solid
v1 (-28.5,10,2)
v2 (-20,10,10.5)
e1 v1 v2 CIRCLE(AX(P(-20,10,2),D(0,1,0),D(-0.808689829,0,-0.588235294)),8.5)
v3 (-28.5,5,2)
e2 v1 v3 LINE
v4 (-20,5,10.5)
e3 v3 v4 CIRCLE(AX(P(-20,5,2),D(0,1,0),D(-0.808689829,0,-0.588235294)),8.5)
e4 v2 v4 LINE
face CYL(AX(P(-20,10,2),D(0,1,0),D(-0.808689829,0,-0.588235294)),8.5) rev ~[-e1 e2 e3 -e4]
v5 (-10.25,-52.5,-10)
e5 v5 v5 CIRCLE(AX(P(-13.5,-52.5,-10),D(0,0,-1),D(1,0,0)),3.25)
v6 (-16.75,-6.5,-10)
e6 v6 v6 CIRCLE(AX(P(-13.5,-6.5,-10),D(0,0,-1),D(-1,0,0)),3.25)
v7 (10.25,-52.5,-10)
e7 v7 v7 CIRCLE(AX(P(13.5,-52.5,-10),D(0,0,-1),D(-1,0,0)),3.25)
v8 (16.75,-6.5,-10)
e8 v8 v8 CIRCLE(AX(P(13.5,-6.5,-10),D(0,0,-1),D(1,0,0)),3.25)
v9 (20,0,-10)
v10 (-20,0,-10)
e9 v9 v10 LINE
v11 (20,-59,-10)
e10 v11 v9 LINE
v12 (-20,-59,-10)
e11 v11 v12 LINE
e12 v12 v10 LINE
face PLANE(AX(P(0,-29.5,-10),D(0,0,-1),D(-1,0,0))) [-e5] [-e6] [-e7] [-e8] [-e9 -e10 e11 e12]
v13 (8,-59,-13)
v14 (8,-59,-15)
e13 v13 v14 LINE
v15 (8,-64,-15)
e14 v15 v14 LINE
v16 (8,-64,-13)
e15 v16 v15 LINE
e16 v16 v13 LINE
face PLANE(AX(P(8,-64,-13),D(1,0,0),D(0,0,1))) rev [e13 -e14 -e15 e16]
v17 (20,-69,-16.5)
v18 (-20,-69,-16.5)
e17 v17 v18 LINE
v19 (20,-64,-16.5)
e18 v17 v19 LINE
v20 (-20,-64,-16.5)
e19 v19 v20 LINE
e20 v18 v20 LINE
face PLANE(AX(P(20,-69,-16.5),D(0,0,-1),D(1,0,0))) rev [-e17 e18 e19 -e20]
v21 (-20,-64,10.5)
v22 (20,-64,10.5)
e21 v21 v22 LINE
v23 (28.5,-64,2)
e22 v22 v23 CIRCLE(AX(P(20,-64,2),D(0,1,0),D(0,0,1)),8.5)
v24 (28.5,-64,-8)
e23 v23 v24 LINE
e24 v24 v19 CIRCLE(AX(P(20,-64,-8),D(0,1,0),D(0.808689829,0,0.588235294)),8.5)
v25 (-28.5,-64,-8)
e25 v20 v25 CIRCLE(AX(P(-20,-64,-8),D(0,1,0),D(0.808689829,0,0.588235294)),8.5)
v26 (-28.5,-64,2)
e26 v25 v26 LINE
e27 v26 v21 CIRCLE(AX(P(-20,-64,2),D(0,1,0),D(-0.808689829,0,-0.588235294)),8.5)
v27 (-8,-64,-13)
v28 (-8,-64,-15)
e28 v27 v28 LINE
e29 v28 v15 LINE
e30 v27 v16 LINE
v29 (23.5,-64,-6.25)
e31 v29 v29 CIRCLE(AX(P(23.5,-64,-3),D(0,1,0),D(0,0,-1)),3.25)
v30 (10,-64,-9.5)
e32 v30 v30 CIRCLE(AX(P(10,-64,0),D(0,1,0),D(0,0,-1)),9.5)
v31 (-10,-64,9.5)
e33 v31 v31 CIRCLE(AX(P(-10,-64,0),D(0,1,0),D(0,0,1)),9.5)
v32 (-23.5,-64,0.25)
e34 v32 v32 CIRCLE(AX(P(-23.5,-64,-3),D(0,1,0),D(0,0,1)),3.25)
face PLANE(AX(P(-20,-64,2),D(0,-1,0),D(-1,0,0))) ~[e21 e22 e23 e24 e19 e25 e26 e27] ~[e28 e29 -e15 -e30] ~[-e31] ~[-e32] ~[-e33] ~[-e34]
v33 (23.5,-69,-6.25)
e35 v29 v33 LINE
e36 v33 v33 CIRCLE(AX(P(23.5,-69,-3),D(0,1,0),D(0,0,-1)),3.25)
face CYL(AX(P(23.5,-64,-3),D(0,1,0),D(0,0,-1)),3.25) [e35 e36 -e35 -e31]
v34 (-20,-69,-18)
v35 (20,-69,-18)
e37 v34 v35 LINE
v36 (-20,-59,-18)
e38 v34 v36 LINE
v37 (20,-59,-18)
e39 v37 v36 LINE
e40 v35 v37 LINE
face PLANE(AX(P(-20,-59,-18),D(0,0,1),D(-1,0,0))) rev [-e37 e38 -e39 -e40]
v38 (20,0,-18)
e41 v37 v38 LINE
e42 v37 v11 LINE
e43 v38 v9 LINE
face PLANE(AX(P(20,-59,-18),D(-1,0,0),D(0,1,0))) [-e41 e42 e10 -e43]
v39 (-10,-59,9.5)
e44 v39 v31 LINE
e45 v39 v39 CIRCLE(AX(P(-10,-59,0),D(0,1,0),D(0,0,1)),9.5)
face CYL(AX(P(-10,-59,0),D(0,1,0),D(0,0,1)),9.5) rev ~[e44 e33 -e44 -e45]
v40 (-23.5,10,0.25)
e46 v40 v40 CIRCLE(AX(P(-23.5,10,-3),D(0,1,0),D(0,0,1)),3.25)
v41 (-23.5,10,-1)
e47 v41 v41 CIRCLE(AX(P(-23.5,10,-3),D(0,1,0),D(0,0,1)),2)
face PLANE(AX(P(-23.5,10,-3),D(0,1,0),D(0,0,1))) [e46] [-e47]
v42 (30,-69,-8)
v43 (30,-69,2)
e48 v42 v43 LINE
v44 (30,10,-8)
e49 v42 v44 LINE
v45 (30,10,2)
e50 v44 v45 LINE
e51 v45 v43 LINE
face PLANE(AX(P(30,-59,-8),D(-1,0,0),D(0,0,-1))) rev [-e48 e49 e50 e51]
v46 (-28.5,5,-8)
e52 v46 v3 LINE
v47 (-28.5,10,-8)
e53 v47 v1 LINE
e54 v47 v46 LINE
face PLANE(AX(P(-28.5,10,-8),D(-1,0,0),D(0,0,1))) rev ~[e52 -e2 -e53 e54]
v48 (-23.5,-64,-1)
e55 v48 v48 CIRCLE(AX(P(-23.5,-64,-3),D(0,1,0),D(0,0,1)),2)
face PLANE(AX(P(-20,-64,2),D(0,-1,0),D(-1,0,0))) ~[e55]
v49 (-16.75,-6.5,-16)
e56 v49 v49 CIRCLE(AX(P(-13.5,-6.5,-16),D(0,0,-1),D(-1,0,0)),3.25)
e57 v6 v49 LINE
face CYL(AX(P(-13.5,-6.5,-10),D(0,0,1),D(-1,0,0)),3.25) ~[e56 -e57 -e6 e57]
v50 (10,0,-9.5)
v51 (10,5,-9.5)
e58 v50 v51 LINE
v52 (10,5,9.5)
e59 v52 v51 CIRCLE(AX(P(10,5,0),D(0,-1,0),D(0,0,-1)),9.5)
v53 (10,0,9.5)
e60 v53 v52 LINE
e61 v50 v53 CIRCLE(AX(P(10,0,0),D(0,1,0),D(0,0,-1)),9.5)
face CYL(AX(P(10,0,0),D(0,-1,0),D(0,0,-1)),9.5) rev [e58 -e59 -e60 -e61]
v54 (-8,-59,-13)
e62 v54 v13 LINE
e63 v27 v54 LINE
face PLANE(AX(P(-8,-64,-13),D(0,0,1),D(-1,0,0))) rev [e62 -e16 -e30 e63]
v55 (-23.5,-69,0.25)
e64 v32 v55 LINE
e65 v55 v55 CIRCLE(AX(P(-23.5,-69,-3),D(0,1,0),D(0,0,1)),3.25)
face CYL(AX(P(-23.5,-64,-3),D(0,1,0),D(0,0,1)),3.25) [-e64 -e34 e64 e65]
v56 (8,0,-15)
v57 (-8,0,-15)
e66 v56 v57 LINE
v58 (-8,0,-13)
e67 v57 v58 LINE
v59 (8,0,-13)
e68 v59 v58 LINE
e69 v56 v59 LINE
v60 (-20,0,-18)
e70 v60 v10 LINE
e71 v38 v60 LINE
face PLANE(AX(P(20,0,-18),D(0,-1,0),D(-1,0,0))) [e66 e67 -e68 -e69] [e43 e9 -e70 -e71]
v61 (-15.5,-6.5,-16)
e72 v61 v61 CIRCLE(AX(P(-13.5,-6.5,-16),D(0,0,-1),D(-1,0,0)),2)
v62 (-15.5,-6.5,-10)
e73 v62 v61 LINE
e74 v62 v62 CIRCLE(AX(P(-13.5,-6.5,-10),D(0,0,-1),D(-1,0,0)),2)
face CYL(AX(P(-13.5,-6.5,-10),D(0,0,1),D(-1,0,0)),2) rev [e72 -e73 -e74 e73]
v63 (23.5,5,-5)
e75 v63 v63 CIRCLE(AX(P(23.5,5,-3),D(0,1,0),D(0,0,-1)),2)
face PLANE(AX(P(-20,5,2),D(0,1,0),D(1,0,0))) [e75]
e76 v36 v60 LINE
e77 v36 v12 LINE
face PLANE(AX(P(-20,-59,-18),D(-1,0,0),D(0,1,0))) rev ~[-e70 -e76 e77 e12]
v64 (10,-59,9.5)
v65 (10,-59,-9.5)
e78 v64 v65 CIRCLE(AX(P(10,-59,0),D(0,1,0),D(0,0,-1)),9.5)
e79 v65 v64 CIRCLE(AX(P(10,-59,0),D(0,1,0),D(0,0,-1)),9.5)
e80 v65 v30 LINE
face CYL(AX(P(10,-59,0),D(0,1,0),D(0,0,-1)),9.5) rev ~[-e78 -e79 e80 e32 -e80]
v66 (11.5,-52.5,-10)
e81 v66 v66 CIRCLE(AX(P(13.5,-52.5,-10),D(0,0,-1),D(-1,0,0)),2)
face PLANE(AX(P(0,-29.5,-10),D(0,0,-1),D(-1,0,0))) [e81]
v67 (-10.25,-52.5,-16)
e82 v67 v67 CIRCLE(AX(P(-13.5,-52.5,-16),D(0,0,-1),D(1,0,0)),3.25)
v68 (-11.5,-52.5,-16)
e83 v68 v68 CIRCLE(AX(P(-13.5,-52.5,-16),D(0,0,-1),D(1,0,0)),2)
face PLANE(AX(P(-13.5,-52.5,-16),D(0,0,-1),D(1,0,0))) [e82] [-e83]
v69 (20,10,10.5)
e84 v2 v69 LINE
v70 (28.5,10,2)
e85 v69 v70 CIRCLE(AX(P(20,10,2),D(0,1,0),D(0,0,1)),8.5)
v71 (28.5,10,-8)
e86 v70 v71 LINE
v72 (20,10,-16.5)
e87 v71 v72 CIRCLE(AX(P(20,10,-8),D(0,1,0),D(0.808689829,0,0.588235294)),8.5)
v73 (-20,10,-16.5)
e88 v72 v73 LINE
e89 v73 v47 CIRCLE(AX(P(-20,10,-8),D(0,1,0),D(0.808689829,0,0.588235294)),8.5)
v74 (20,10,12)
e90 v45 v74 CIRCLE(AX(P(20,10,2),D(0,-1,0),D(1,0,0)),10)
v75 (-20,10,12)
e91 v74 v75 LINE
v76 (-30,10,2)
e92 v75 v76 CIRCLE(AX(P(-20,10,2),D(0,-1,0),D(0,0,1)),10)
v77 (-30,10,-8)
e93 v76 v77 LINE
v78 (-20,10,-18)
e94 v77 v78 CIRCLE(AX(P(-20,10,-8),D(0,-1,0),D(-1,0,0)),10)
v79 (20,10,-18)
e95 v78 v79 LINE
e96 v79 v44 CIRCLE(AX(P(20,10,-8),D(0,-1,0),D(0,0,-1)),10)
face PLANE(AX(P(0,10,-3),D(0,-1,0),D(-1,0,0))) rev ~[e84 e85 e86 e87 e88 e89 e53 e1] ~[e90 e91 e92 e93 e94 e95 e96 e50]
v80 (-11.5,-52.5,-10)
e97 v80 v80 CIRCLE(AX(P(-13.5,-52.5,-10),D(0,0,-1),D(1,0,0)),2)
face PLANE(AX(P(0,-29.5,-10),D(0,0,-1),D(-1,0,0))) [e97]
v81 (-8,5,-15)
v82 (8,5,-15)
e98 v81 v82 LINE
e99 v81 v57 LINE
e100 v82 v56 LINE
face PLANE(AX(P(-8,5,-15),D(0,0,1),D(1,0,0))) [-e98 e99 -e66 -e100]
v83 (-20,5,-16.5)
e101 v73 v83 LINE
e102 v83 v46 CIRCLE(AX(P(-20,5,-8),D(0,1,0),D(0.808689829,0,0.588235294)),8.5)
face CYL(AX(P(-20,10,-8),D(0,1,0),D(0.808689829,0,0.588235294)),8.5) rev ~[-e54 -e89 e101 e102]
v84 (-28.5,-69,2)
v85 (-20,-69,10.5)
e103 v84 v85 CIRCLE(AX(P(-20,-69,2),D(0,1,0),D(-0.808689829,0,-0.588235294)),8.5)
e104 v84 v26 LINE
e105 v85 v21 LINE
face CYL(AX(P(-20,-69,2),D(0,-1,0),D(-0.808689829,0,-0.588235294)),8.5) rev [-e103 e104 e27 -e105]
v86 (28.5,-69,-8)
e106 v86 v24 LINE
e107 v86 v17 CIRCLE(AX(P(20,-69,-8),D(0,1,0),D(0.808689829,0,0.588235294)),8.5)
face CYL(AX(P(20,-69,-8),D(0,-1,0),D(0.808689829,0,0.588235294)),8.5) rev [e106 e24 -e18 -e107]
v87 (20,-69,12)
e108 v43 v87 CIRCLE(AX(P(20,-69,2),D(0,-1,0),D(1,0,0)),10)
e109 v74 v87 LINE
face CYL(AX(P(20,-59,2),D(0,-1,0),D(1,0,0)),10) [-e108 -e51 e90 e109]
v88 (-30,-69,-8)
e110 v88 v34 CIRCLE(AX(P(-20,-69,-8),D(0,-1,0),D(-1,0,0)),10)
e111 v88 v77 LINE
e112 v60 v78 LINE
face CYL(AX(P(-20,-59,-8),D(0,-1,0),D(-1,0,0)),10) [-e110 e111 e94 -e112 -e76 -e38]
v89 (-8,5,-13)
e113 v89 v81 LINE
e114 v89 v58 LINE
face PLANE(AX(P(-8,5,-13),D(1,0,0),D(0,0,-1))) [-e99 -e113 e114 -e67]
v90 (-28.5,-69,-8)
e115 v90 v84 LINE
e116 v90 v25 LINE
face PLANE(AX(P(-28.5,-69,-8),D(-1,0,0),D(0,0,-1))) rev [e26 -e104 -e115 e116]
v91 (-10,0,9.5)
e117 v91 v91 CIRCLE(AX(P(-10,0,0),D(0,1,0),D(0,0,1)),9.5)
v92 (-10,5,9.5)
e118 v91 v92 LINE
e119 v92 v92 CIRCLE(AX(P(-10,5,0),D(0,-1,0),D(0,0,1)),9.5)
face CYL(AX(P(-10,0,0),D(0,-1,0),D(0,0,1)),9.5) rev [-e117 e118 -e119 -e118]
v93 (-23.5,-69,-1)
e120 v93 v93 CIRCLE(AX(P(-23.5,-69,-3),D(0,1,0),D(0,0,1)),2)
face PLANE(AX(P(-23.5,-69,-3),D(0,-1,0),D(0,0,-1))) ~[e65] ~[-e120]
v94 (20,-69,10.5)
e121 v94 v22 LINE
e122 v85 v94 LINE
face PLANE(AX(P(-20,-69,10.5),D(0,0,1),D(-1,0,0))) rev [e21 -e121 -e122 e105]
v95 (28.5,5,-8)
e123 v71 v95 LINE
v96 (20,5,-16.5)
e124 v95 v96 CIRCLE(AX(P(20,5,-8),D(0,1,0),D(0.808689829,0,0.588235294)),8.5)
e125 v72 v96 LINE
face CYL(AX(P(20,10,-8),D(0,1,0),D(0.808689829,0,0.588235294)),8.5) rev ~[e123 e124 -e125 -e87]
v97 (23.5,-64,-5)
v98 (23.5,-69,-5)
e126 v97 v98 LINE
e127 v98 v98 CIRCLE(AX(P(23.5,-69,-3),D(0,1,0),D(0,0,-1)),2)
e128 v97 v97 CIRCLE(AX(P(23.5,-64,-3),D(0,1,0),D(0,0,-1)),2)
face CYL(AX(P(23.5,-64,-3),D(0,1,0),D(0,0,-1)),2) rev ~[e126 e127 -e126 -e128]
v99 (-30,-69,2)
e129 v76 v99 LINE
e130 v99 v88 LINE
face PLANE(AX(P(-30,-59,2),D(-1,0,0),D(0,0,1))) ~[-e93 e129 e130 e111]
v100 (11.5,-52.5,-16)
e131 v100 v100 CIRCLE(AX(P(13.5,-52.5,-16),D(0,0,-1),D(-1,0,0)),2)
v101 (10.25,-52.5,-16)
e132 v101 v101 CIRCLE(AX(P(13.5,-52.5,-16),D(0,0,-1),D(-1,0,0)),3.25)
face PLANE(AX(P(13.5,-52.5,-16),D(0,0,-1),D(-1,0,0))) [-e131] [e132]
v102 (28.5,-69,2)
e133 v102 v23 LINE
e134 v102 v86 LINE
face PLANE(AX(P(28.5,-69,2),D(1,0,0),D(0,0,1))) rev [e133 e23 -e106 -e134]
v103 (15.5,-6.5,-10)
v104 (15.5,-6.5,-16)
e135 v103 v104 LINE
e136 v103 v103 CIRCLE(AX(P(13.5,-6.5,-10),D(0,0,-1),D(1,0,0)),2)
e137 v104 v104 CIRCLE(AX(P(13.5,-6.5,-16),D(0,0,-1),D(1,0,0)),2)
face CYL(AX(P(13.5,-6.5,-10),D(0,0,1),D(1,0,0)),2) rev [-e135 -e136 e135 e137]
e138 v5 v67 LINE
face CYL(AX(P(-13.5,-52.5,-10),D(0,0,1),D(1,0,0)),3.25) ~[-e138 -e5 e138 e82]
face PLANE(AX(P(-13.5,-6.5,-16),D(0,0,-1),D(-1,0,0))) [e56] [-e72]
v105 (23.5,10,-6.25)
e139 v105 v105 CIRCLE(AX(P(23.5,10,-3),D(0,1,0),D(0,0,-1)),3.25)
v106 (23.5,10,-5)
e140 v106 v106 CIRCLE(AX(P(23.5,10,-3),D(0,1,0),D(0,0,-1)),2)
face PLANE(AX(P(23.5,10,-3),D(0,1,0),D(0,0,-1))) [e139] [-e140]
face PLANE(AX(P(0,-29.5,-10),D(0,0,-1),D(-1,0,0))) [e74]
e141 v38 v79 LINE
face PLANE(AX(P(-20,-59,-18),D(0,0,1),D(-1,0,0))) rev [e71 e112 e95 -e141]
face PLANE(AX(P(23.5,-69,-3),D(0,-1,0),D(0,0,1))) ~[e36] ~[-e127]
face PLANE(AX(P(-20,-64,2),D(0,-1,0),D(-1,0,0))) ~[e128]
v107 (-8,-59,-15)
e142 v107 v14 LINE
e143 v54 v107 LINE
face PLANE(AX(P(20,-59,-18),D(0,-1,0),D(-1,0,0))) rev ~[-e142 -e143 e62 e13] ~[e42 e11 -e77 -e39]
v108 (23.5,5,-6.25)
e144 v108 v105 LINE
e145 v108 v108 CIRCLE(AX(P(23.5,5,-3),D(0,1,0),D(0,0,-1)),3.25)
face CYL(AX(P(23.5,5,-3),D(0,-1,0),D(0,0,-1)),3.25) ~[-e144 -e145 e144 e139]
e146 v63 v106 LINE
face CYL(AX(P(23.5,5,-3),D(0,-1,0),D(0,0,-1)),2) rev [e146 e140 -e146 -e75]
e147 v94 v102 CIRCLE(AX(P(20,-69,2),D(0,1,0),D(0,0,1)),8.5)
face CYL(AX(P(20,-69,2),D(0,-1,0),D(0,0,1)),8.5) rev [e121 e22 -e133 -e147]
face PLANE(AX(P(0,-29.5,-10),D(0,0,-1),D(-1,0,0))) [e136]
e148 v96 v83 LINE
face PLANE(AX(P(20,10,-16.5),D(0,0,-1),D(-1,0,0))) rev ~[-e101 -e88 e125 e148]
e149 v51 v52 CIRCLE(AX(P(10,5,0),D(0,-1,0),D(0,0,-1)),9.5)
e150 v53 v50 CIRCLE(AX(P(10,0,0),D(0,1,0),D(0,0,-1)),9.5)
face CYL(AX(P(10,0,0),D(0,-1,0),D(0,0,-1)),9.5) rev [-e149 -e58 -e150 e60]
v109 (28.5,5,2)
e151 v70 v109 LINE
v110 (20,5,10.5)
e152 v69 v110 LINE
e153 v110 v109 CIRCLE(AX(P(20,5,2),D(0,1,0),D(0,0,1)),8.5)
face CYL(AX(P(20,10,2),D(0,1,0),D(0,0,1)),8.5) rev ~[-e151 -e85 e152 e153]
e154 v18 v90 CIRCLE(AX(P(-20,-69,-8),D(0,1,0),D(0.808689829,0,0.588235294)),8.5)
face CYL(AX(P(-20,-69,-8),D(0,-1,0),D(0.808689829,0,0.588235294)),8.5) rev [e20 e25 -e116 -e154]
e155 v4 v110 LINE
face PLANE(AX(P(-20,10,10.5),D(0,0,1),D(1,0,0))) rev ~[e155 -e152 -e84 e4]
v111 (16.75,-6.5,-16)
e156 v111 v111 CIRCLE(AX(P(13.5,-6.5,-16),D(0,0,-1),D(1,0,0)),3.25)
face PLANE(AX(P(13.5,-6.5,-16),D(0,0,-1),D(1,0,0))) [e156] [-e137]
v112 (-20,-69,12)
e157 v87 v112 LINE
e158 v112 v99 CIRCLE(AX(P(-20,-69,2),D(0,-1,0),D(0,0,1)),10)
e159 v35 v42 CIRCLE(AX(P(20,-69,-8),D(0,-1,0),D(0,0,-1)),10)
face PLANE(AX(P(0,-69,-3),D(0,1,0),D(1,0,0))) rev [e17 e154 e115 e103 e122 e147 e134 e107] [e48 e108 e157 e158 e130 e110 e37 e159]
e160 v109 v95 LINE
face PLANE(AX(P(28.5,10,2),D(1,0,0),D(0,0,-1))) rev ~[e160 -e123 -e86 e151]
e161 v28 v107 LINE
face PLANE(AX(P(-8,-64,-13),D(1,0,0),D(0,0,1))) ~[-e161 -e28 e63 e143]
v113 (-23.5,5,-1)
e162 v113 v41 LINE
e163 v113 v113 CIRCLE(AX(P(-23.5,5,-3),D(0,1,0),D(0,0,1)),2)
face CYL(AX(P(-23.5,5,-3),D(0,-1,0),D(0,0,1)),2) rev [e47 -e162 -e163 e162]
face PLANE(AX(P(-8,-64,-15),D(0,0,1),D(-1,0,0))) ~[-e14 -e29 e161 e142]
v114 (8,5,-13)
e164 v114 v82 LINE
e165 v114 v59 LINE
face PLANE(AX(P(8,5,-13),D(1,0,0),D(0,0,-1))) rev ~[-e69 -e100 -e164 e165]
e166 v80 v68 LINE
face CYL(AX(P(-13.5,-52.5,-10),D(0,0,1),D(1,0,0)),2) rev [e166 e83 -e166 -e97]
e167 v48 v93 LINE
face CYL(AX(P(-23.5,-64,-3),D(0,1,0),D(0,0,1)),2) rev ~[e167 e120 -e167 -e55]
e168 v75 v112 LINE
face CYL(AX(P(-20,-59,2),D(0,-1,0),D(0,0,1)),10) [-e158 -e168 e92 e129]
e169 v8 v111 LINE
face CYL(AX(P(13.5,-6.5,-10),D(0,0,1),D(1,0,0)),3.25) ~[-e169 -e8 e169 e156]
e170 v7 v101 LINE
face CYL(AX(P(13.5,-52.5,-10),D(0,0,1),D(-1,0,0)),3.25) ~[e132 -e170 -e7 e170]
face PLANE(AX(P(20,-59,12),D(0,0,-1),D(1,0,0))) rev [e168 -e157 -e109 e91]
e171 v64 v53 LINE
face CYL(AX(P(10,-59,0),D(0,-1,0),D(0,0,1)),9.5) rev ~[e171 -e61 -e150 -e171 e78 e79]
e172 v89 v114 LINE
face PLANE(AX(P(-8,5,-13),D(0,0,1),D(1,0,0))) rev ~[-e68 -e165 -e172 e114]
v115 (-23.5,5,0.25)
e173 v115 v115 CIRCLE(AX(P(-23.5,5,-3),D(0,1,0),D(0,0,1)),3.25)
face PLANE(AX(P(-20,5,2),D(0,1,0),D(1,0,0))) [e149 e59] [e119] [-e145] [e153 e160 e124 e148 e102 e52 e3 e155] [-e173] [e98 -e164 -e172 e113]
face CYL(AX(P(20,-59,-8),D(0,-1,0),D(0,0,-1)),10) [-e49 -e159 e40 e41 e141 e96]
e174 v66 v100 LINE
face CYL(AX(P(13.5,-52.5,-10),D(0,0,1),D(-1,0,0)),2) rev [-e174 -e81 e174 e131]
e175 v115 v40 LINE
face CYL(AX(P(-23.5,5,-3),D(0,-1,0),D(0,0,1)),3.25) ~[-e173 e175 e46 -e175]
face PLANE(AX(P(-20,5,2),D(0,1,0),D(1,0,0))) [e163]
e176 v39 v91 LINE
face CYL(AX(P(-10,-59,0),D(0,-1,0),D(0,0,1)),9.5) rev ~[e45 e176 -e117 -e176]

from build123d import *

# Parameters (mm, degrees)
SKETCH_1_R          = 9.5
EXTRUDE_1_DEPTH     = 10
SKETCH_2_R          = 8.5
SKETCH_2_R_2        = 9.5
CUT_EXTRUDE_1_DEPTH = 5
SKETCH_3_R          = 3.25
SKETCH_3_R_2        = 2
EXTRUDE_2_DEPTH     = 5
SKETCH_4_W          = 16
SKETCH_4_H          = 2
CUT_EXTRUDE_2_DEPTH = 6
EXTRUDE_3_DEPTH     = 29.5
SKETCH_8_W          = 40
SKETCH_8_H          = 59
CUT_EXTRUDE_4_DEPTH = 8
SKETCH_9_R          = 9.5
CUT_EXTRUDE_5_DEPTH = 70
SKETCH_10_R         = 3.25
SKETCH_10_R_2       = 2
EXTRUDE_4_DEPTH     = 6


with BuildPart() as part:
    # Эскиз1 → Бобышка-Вытянуть1 (new body)
    with BuildSketch(Plane(origin=(0, 0, 0), x_dir=(1, 0, 0), z_dir=(0, 1, 0))):
        with BuildLine():
            Line((-20, 18), (20, 18))
            ThreePointArc((20, 18), (27.071067812, 15.071067812), (30, 8))
            Line((30, 8), (30, -2))
            ThreePointArc((30, -2), (27.071067812, -9.071067812), (20, -12))
            Line((20, -12), (-20, -12))
            ThreePointArc((-20, -12), (-27.071067812, -9.071067812), (-30, -2))
            Line((-30, -2), (-30, 8))
            ThreePointArc((-30, 8), (-27.071067812, 15.071067812), (-20, 18))
        make_face()
        with Locations(Location((-10, 0, 0), (0, 0, 270))):
            Circle(SKETCH_1_R, mode=Mode.SUBTRACT)
        with Locations(Location((10, 0, 0), (0, 0, 90))):
            Circle(SKETCH_1_R, mode=Mode.SUBTRACT)
    extrude_1 = extrude(amount=EXTRUDE_1_DEPTH)

    # Эскиз2 → Вырез-Вытянуть1 (cut)
    with BuildSketch(Plane(origin=(0, 10, 0), x_dir=(1, 0, 0), z_dir=(0, 1, 0))):
        with Locations((-20, -2)):
            Circle(SKETCH_2_R)
        with Locations((-20, 8)):
            Circle(SKETCH_2_R)
        with Locations(Location((-10, 0, 0), (0, 0, 270))):
            Circle(SKETCH_2_R_2)
        with BuildLine():
            Line((20, 16.5), (-20, 16.5))
            ThreePointArc((-20, 16.5), (-14.492370575, 14.474258113), (-11.609926002, 9.362592497))
            ThreePointArc((-11.609926002, 9.362592497), (-3.878084328, 7.26444413), (-0.5, 0))
            ThreePointArc((-0.5, 0), (-5.086783087, -8.13082404), (-14.417957802, -8.410210988))
            ThreePointArc((-14.417957802, -8.410210988), (-17.01979811, -9.960426917), (-20, -10.5))
            Line((-20, -10.5), (20, -10.5))
            ThreePointArc((20, -10.5), (17.01979811, -9.960426917), (14.417957802, -8.410210988))
            ThreePointArc((14.417957802, -8.410210988), (0.616398255, -1.48257151), (11.609926002, 9.362592497))
            ThreePointArc((11.609926002, 9.362592497), (14.492370575, 14.474258113), (20, 16.5))
        make_face()
        with Locations((-20, -2)):
            Circle(SKETCH_2_R)
        with Locations((-20, 8)):
            Circle(SKETCH_2_R)
        with Locations(Location((-10, 0, 0), (0, 0, 270))):
            Circle(SKETCH_2_R_2)
        with Locations((-20, -2)):
            Circle(SKETCH_2_R)
        with Locations((-20, 8)):
            Circle(SKETCH_2_R)
        with Locations(Location((-10, 0, 0), (0, 0, 270))):
            Circle(SKETCH_2_R_2)
        with BuildLine():
            ThreePointArc((-26.873863542, 3), (-28.08324935, 5.371106707), (-28.5, 8))
            Line((-28.5, 8), (-28.5, -2))
            ThreePointArc((-28.5, -2), (-28.08324935, 0.628893293), (-26.873863542, 3))
        make_face()
        with Locations((20, -2)):
            Circle(SKETCH_2_R)
        with Locations((20, 8)):
            Circle(SKETCH_2_R)
        with Locations(Location((10, 0, 0), (0, 0, 90))):
            Circle(SKETCH_2_R_2)
        with Locations((20, -2)):
            Circle(SKETCH_2_R)
        with Locations((20, 8)):
            Circle(SKETCH_2_R)
        with Locations(Location((10, 0, 0), (0, 0, 90))):
            Circle(SKETCH_2_R_2)
        with Locations((20, -2)):
            Circle(SKETCH_2_R)
        with Locations((20, 8)):
            Circle(SKETCH_2_R)
        with Locations(Location((10, 0, 0), (0, 0, 90))):
            Circle(SKETCH_2_R_2)
        with BuildLine():
            Line((28.5, -2), (28.5, 8))
            ThreePointArc((28.5, 8), (28.08324935, 5.371106707), (26.873863542, 3))
            ThreePointArc((26.873863542, 3), (28.08324935, 0.628893293), (28.5, -2))
        make_face()
    cut_extrude_1 = extrude(amount=-CUT_EXTRUDE_1_DEPTH, mode=Mode.SUBTRACT)

    # Эскиз3 → Бобышка-Вытянуть2 (add)
    with BuildSketch(Plane(origin=(0, 5, 0), x_dir=(1, 0, 0), z_dir=(0, 1, 0))):
        with Locations(Location((-23.5, 3, 0), (0, 0, 270))):
            Circle(SKETCH_3_R)
        with Locations(Location((-23.5, 3, 0), (0, 0, 270))):
            Circle(SKETCH_3_R_2, mode=Mode.SUBTRACT)
        with Locations(Location((23.5, 3, 0), (0, 0, 90))):
            Circle(SKETCH_3_R)
        with Locations(Location((23.5, 3, 0), (0, 0, 90))):
            Circle(SKETCH_3_R_2, mode=Mode.SUBTRACT)
    extrude_2 = extrude(amount=EXTRUDE_2_DEPTH)

    # Эскиз4 → Вырез-Вытянуть2 (cut, through all)
    with BuildSketch(Plane(origin=(0, 5, 0), x_dir=(1, 0, 0), z_dir=(0, 1, 0))):
        with Locations((0, 14)):
            Rectangle(SKETCH_4_W, SKETCH_4_H)
    cut_extrude_2 = extrude(amount=-CUT_EXTRUDE_2_DEPTH, mode=Mode.SUBTRACT)

    # Эскиз5 → Бобышка-Вытянуть3 (add)
    with BuildSketch(Plane.XZ):
        with BuildLine():
            Line((30, -8), (30, 2))
            ThreePointArc((30, 2), (27.071067812, 9.071067812), (20, 12))
            Line((20, 12), (-20, 12))
            ThreePointArc((-20, 12), (-27.071067812, 9.071067812), (-30, 2))
            Line((-30, 2), (-30, -8))
            ThreePointArc((-30, -8), (-27.071067812, -15.071067812), (-20, -18))
            Line((-20, -18), (20, -18))
            ThreePointArc((20, -18), (27.071067812, -15.071067812), (30, -8))
        make_face()
    extrude_3 = extrude(amount=EXTRUDE_3_DEPTH)

    # Зеркальное отражение5: Бобышка-Вытянуть1, Вырез-Вытянуть1, Бобышка-Вытянуть2, Вырез-Вытянуть2, Бобышка-Вытянуть3 across plane
    add(extrude_1.mirror(Plane(origin=(0, -29.5, 0), x_dir=(0, 0, 1), z_dir=(0, -1, 0))))
    add(cut_extrude_1.mirror(Plane(origin=(0, -29.5, 0), x_dir=(0, 0, 1), z_dir=(0, -1, 0))), mode=Mode.SUBTRACT)
    add(extrude_2.mirror(Plane(origin=(0, -29.5, 0), x_dir=(0, 0, 1), z_dir=(0, -1, 0))))
    add(cut_extrude_2.mirror(Plane(origin=(0, -29.5, 0), x_dir=(0, 0, 1), z_dir=(0, -1, 0))), mode=Mode.SUBTRACT)
    add(extrude_3.mirror(Plane(origin=(0, -29.5, 0), x_dir=(0, 0, 1), z_dir=(0, -1, 0))))

    # Эскиз8 → Вырез-Вытянуть4 (cut)
    with BuildSketch(Plane(origin=(0, 0, -18), x_dir=(-1, 0, 0), z_dir=(0, 0, -1))):
        with Locations((0, -29.5)):
            Rectangle(SKETCH_8_W, SKETCH_8_H)
    extrude(amount=-CUT_EXTRUDE_4_DEPTH, mode=Mode.SUBTRACT)

    # Эскиз9 → Вырез-Вытянуть5 (cut, through all)
    with BuildSketch(Plane(origin=(0, -59, 0), x_dir=(-1, 0, 0), z_dir=(0, -1, 0))):
        with Locations(Location((10, 0, 0), (0, 0, 270))):
            Circle(SKETCH_9_R)
        with Locations(Location((-10, 0, 0), (0, 0, 270))):
            Circle(SKETCH_9_R)
    extrude(amount=-CUT_EXTRUDE_5_DEPTH, mode=Mode.SUBTRACT)

    # Эскиз10 → Бобышка-Вытянуть4 (add)
    with BuildSketch(Plane(origin=(0, 0, -10), x_dir=(-1, 0, 0), z_dir=(0, 0, -1))):
        with Locations((-13.5, -52.5)):
            Circle(SKETCH_10_R)
        with Locations((-13.5, -52.5)):
            Circle(SKETCH_10_R_2, mode=Mode.SUBTRACT)
        with Locations(Location((13.5, -52.5, 0), (0, 0, 180))):
            Circle(SKETCH_10_R)
        with Locations(Location((13.5, -52.5, 0), (0, 0, 180))):
            Circle(SKETCH_10_R_2, mode=Mode.SUBTRACT)
        with Locations((13.5, -6.5)):
            Circle(SKETCH_10_R)
        with Locations((13.5, -6.5)):
            Circle(SKETCH_10_R_2, mode=Mode.SUBTRACT)
        with Locations(Location((-13.5, -6.5, 0), (0, 0, 180))):
            Circle(SKETCH_10_R)
        with Locations(Location((-13.5, -6.5, 0), (0, 0, 180))):
            Circle(SKETCH_10_R_2, mode=Mode.SUBTRACT)
    extrude(amount=EXTRUDE_4_DEPTH)


solid = part.part
